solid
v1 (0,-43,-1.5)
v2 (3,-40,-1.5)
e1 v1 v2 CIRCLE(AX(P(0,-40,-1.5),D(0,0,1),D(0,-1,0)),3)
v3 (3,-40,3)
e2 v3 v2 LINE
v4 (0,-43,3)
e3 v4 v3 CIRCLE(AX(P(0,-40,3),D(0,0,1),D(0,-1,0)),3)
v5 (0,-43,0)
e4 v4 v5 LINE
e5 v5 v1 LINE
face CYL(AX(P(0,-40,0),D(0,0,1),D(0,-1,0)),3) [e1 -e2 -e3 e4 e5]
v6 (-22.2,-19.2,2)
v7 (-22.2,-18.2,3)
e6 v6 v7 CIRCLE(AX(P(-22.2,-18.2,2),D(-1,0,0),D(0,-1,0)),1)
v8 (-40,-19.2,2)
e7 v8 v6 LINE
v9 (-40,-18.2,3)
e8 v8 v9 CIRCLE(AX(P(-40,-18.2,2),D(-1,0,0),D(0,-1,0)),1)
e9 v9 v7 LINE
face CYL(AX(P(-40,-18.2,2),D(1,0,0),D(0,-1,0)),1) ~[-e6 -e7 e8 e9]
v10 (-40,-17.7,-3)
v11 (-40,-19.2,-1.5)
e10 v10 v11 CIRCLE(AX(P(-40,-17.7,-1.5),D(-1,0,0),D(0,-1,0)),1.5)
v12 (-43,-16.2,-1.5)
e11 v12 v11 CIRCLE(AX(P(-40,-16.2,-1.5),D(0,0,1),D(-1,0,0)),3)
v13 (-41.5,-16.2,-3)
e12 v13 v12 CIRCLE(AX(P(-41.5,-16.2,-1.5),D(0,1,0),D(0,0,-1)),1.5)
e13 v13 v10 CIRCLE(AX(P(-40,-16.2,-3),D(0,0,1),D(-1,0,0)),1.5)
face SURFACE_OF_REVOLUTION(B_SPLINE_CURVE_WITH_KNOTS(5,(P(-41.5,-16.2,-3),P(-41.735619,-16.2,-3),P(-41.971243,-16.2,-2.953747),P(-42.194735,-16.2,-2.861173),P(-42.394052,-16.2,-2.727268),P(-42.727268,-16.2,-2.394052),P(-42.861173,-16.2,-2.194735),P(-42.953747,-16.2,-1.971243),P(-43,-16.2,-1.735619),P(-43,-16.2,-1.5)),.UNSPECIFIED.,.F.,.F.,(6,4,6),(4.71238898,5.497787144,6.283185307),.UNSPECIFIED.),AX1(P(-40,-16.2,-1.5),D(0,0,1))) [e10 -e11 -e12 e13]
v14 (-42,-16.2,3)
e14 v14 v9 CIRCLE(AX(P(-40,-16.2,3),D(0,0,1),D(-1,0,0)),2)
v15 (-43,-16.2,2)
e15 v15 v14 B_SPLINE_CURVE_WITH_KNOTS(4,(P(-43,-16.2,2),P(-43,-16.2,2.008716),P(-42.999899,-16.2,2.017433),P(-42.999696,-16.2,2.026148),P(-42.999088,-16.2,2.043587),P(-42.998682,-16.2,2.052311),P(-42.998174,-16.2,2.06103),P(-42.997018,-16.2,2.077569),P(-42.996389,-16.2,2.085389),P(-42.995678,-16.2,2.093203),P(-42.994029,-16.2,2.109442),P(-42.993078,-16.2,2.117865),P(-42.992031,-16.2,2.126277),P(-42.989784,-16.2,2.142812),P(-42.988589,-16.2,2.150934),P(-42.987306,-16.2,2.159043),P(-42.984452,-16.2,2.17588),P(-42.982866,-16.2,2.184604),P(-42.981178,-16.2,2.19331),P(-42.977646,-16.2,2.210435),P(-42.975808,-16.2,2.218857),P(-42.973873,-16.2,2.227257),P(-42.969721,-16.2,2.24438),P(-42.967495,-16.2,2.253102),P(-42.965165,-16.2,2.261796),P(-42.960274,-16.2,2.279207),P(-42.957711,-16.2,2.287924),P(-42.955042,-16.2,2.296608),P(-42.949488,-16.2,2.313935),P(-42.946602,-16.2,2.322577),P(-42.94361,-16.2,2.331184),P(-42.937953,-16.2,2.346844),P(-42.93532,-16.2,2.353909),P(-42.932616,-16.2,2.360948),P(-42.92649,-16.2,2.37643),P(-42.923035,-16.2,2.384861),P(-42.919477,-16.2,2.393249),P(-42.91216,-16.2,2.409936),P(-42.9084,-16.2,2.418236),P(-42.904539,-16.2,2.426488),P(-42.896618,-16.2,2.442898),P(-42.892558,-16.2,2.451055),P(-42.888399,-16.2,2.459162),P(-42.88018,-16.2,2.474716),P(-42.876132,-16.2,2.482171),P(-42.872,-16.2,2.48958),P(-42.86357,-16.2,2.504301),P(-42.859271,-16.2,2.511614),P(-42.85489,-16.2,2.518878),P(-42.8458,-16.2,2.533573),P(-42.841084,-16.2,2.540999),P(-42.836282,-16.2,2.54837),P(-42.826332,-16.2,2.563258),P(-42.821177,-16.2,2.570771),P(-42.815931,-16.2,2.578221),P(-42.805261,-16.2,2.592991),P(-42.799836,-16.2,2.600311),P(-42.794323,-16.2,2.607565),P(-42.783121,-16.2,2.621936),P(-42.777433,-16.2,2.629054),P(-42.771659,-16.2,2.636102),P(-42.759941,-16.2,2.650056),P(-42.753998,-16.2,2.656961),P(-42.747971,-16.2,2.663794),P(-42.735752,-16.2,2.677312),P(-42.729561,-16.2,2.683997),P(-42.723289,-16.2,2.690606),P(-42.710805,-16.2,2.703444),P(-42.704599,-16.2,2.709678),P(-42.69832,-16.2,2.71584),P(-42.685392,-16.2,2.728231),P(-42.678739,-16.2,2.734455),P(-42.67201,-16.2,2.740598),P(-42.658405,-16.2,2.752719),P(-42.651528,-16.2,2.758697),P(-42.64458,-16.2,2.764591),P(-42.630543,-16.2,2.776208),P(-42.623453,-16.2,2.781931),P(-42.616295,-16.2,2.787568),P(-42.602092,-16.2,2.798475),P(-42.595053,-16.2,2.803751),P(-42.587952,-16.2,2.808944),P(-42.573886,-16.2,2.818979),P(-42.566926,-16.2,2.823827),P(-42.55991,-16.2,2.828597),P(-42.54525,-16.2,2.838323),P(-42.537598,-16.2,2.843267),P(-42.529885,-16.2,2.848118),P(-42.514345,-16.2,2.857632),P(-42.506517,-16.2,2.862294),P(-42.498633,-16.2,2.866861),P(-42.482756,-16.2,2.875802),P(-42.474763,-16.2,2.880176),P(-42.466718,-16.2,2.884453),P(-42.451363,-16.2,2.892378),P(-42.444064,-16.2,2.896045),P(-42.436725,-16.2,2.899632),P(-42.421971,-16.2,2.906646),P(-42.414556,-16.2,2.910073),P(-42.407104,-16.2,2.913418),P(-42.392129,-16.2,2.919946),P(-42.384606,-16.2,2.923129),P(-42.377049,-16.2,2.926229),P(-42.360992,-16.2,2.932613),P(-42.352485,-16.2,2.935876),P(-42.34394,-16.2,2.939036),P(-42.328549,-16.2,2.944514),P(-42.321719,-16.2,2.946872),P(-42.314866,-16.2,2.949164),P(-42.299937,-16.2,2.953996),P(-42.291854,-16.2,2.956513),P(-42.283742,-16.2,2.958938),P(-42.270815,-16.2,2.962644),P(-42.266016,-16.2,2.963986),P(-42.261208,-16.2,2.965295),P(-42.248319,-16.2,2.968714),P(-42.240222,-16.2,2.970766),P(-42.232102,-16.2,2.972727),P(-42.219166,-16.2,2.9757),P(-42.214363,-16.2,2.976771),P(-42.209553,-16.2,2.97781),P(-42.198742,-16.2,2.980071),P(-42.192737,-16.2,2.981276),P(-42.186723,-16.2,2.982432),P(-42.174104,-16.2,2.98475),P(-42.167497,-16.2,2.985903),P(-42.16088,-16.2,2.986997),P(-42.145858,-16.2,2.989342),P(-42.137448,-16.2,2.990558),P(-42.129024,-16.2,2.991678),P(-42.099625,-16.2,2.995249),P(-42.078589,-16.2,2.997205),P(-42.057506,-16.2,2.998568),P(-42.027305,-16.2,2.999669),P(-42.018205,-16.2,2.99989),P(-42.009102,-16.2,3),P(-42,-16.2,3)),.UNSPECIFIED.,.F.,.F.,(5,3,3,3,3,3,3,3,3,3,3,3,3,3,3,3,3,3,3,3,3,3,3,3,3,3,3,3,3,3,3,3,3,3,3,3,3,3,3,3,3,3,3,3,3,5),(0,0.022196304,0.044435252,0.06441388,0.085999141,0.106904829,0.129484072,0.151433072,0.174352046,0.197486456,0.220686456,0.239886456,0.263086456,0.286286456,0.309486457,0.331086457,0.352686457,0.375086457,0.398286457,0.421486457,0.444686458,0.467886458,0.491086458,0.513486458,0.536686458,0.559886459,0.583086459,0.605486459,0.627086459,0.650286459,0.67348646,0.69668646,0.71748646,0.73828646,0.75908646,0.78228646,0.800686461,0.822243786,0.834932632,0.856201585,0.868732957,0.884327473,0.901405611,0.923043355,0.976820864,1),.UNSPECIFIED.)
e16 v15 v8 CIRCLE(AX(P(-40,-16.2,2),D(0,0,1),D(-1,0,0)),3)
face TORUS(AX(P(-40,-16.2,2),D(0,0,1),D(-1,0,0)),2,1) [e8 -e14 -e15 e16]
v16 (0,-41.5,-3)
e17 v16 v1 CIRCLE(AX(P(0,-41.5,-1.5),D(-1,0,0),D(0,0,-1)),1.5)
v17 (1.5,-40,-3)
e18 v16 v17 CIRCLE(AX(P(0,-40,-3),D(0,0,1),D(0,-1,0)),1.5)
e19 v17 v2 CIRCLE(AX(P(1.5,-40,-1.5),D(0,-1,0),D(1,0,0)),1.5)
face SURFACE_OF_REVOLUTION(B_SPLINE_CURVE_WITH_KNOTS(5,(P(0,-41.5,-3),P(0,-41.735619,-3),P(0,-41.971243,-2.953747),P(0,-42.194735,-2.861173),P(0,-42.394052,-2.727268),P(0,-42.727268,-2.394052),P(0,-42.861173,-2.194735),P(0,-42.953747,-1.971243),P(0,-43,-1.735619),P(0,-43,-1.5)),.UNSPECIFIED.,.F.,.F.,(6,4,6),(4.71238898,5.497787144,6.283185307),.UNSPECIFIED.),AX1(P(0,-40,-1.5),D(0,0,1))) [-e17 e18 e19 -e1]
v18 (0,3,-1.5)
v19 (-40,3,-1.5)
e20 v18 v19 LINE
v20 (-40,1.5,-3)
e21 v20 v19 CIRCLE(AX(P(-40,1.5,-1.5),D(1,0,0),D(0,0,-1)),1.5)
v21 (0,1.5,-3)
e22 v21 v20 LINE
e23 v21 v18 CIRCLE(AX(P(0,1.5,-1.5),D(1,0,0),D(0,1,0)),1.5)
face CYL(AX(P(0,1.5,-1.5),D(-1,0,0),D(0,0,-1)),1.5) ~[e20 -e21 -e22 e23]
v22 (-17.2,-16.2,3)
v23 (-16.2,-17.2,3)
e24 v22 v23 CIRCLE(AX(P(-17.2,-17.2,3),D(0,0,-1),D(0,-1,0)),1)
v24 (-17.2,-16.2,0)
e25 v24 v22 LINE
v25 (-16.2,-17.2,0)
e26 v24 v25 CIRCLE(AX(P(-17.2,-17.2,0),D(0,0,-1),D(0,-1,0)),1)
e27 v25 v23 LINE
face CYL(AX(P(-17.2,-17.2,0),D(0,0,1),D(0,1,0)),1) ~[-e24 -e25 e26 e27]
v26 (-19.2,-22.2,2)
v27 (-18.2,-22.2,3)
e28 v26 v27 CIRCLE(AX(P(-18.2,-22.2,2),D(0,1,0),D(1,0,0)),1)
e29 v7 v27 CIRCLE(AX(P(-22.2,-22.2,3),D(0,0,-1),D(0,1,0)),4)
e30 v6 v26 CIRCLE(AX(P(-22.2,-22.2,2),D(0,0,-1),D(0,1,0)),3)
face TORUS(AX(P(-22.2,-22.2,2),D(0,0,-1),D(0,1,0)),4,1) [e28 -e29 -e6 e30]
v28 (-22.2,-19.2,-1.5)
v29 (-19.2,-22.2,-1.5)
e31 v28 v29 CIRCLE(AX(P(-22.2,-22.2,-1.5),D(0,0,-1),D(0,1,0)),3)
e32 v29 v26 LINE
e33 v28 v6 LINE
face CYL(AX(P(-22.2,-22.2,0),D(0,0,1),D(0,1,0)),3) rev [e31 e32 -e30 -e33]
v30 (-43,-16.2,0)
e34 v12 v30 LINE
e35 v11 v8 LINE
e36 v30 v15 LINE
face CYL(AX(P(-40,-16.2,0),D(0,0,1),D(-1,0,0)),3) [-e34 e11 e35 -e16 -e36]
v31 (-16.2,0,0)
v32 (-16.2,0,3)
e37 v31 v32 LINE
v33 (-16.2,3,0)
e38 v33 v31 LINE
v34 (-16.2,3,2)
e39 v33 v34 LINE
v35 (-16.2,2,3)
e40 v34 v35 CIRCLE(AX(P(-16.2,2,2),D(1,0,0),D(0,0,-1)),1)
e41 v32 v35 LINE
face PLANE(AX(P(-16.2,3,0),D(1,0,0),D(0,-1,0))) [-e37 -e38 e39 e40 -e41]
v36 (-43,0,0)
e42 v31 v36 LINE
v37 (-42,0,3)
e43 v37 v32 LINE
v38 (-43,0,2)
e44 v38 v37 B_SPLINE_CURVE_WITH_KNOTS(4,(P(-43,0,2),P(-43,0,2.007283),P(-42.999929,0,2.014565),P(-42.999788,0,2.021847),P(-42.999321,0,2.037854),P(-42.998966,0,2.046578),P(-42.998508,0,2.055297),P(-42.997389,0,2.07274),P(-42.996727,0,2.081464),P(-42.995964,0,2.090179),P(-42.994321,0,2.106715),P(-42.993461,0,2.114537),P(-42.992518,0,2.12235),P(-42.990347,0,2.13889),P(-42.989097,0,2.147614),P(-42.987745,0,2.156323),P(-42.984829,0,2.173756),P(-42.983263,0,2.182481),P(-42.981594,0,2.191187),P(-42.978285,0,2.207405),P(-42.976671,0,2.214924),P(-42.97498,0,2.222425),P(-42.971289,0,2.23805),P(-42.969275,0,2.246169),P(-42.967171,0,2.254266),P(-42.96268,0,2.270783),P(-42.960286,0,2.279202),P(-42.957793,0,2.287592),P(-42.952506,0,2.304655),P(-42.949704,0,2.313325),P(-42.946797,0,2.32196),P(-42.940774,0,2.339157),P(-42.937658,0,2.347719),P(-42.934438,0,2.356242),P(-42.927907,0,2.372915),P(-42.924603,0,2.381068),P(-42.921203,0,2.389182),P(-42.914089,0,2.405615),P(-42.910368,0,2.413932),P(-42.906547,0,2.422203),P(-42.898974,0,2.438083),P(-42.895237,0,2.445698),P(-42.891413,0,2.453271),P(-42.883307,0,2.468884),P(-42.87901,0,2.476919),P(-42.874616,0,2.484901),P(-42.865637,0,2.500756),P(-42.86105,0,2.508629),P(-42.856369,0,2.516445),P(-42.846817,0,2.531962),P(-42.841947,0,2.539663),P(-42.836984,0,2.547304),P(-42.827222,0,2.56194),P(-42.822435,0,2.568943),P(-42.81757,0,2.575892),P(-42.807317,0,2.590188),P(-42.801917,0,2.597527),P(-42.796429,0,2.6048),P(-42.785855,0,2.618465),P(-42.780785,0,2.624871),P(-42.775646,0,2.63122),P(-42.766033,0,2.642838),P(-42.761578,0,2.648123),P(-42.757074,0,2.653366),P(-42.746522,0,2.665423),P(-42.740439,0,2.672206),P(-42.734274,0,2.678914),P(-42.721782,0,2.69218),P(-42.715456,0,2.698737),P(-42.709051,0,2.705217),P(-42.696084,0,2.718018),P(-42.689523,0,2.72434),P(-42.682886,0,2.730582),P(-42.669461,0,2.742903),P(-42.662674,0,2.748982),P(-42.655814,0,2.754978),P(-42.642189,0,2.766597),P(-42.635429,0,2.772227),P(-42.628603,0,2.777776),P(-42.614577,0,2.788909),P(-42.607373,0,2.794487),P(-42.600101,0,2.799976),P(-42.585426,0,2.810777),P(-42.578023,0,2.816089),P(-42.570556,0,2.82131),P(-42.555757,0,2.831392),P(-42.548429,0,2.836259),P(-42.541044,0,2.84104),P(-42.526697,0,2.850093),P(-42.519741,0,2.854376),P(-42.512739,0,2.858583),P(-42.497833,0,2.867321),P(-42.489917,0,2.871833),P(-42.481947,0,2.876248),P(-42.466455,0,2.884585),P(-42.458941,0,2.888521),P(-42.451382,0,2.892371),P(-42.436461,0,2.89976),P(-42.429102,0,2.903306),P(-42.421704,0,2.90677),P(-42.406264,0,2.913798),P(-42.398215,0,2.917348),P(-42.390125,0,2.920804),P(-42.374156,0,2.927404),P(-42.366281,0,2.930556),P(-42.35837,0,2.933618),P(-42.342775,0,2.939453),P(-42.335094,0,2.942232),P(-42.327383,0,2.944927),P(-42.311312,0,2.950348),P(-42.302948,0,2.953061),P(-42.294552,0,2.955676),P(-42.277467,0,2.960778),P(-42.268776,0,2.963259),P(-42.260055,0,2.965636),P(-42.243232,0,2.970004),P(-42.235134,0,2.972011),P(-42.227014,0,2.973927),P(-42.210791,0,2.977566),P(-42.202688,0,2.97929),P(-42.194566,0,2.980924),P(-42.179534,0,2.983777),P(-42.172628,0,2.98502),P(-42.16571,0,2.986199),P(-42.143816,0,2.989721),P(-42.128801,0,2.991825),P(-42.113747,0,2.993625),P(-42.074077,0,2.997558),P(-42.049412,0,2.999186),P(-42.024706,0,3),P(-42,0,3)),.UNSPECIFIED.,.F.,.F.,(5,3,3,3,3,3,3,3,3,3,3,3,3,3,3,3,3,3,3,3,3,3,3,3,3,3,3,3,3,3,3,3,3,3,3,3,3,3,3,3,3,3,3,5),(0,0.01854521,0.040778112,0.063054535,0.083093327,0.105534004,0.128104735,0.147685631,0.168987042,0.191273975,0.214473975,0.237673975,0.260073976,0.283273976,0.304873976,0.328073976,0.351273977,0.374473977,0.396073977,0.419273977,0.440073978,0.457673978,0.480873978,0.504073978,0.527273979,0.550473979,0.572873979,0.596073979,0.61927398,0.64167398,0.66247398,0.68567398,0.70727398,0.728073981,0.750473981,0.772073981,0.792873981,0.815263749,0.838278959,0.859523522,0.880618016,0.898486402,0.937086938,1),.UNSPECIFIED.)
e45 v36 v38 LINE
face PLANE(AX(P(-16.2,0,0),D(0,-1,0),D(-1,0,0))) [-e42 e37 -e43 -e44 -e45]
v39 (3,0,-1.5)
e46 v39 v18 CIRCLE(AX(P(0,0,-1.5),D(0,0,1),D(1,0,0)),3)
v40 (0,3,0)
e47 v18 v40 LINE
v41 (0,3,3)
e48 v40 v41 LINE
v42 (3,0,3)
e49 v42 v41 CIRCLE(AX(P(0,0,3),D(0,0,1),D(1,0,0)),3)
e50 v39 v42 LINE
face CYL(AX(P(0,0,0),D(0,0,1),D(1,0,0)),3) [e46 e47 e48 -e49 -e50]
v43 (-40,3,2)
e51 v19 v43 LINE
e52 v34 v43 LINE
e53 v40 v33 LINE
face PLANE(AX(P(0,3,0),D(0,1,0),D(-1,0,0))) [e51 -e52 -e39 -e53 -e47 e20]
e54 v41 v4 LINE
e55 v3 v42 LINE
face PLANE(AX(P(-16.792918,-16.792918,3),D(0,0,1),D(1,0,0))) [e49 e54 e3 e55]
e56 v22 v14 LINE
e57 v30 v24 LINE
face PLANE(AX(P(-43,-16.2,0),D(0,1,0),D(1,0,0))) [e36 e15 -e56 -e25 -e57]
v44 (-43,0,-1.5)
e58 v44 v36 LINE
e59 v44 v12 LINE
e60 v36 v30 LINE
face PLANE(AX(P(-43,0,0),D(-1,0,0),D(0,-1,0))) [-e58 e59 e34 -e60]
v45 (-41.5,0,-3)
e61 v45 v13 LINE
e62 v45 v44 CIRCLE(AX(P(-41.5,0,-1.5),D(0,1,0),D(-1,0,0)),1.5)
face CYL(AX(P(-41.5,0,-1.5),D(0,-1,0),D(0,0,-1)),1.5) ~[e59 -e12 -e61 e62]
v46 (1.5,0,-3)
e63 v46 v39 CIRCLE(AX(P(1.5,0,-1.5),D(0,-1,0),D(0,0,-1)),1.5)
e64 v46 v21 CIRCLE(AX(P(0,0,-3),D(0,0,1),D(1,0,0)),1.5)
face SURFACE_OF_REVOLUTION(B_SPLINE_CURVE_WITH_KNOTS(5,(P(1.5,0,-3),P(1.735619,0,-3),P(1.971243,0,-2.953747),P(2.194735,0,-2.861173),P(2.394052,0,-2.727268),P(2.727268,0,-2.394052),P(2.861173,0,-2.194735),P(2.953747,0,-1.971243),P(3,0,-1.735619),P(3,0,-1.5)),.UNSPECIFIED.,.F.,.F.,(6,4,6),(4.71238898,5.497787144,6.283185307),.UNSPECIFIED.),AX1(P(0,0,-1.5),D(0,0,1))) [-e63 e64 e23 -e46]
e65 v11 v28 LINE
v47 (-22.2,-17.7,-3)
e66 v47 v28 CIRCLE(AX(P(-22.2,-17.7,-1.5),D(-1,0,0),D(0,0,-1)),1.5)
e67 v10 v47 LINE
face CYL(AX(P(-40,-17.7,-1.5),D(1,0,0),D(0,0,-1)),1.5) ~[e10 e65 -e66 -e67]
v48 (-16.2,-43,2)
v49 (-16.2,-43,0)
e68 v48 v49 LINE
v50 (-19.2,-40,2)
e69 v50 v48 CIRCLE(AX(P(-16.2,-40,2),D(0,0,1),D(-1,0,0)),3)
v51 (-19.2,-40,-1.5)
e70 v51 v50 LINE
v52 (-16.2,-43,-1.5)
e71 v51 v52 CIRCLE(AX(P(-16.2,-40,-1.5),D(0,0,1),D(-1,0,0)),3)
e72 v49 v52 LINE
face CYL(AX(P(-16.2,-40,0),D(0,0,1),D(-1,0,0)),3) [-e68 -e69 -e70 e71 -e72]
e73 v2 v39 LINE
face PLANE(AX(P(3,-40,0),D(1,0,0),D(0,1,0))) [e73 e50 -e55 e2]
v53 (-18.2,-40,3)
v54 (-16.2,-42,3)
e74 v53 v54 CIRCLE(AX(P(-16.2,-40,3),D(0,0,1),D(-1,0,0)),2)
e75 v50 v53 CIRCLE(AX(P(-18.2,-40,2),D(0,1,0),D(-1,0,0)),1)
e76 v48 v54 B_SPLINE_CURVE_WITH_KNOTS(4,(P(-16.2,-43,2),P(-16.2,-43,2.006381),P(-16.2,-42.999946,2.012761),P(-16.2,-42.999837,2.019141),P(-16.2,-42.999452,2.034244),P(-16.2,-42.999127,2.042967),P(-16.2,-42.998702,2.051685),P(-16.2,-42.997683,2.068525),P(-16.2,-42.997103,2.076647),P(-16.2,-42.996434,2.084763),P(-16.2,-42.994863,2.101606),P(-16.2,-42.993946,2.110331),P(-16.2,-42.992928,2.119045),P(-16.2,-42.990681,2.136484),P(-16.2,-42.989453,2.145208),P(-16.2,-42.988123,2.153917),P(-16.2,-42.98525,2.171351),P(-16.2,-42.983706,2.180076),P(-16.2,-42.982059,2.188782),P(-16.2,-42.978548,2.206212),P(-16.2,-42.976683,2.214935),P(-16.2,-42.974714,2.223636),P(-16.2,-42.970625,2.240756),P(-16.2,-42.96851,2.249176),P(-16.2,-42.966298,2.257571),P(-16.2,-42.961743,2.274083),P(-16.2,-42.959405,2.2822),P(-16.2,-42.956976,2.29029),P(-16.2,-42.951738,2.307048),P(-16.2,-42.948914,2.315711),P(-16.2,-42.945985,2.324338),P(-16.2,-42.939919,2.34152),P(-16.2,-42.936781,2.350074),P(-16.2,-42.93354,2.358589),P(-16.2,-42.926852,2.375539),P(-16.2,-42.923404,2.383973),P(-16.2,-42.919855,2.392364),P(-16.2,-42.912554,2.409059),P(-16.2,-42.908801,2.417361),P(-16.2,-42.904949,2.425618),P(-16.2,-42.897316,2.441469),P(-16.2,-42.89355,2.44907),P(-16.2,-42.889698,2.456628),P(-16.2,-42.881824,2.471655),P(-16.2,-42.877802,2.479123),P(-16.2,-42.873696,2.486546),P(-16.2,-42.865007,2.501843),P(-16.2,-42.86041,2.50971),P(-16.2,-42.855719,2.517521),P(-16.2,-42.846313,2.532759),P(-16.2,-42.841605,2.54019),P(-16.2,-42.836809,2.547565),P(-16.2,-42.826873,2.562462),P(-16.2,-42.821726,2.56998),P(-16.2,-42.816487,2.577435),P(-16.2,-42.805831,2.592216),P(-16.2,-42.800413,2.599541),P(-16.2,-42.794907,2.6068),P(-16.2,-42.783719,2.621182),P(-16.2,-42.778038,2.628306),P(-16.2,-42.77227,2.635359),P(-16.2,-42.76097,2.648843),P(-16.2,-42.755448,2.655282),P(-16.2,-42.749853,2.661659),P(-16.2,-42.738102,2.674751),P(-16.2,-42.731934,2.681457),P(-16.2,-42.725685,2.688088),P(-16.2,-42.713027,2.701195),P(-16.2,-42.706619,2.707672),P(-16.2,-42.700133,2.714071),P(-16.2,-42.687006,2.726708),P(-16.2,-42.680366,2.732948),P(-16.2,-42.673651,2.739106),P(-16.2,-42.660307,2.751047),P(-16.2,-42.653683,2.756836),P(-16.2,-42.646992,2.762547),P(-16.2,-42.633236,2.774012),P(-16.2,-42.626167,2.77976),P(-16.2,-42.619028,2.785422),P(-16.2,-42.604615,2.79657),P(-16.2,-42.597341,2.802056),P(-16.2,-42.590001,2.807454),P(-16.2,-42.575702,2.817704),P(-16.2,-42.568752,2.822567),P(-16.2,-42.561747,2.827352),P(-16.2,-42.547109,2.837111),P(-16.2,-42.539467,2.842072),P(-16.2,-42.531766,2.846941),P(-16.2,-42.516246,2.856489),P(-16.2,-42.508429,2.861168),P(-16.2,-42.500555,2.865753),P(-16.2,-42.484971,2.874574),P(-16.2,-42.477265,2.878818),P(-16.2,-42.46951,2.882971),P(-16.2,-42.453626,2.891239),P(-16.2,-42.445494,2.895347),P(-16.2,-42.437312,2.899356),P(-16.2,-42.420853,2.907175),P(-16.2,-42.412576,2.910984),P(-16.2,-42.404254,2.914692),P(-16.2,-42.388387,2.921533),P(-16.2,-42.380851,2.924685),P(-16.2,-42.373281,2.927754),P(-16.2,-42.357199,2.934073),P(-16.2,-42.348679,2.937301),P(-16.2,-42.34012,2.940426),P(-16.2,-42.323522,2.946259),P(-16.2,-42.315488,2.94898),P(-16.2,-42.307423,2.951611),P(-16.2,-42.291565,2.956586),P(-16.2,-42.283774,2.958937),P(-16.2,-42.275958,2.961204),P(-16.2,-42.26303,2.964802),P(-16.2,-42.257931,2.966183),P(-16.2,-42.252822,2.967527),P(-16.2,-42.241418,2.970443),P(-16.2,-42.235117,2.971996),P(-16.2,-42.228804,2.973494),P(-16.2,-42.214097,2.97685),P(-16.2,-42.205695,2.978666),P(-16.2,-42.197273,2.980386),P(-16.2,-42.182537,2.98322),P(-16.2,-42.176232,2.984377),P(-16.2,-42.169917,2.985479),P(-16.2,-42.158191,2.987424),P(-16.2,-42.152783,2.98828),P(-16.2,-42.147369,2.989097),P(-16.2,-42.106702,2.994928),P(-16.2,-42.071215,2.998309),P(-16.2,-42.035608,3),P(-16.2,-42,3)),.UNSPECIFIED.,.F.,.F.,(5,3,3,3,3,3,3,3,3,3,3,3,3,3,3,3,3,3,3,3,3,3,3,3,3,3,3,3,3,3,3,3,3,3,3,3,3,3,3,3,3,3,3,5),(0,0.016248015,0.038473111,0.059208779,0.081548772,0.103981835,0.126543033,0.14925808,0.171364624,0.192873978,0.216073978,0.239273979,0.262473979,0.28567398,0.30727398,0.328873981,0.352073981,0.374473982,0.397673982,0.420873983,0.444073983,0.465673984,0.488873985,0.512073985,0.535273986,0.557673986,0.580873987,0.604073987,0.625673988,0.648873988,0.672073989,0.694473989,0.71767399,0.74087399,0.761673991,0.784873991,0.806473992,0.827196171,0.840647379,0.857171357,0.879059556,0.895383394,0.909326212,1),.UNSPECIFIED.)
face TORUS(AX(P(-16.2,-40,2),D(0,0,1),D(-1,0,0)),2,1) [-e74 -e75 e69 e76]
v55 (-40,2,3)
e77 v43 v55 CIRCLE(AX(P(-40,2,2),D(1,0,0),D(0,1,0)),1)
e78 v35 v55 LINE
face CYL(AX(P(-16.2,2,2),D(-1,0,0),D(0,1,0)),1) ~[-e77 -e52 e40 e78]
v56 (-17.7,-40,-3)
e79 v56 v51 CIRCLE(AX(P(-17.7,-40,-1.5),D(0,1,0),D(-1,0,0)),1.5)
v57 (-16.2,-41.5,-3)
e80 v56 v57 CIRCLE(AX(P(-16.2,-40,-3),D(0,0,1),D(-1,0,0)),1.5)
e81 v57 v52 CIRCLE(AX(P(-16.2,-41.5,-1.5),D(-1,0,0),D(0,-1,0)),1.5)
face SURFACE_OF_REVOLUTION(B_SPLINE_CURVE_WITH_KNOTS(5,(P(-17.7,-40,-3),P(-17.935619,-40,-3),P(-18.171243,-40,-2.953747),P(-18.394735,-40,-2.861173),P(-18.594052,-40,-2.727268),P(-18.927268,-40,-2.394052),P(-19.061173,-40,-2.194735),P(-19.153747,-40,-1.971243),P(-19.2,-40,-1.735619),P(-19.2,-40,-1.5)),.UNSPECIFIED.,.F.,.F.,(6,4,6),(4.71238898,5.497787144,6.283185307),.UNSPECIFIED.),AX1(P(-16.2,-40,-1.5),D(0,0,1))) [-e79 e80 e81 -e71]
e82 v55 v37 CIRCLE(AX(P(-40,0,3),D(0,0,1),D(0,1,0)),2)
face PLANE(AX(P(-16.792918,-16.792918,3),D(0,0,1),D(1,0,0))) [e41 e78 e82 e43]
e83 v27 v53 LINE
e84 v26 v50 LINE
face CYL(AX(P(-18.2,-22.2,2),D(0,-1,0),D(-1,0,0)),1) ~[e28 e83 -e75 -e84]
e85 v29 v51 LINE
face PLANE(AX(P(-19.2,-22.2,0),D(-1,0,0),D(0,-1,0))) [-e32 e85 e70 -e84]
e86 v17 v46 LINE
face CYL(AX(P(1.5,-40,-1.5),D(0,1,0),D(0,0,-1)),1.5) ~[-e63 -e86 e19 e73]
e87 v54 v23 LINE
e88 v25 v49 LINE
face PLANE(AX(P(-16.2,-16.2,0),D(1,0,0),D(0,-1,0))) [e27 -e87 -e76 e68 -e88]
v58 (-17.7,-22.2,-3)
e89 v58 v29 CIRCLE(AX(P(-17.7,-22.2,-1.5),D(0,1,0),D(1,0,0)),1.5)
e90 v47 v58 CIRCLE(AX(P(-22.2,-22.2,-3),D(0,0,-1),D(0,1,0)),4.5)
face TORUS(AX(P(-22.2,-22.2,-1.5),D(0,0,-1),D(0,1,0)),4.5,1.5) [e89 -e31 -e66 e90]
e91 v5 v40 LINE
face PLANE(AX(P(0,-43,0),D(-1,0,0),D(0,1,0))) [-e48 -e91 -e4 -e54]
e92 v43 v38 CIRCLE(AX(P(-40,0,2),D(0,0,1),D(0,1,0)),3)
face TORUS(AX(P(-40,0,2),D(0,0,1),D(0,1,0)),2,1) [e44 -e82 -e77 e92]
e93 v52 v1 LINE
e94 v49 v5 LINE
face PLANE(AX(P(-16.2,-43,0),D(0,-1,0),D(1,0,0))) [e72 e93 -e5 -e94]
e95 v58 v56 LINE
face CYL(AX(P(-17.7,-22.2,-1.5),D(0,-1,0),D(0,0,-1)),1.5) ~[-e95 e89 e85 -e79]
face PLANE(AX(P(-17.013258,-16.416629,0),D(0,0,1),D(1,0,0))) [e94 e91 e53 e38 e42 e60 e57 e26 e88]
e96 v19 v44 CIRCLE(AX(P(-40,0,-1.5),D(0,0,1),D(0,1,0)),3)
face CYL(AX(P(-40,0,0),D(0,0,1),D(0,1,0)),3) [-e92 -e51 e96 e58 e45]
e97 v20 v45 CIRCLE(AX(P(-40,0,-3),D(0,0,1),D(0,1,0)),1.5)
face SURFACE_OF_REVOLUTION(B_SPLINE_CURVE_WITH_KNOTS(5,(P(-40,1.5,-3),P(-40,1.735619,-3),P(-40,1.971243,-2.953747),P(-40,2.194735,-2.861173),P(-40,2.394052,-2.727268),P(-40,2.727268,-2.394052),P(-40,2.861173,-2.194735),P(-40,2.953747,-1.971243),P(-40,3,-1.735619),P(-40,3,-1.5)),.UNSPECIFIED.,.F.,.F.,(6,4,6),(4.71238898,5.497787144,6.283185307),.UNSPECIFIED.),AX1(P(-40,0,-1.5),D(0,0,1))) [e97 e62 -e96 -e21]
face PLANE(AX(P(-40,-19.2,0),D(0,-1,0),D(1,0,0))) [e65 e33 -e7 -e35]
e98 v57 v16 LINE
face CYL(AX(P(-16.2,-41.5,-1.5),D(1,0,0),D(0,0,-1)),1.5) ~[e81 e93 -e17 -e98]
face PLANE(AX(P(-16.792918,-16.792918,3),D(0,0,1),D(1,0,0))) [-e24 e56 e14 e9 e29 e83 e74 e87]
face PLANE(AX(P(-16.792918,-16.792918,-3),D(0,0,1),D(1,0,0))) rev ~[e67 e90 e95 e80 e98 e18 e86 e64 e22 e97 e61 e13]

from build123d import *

# Parameters (mm, degrees)
F1_DEPTH = 3
F3_DEPTH = 4
F4_R     = 1.5
F5_R     = 1


with BuildPart() as f1:
    # F0 (on Top) → F1 (new body, symmetric)
    with BuildSketch(Plane.XY):
        with BuildLine():
            Line((3, -40), (3, 0))
            ThreePointArc((3, 0), (2.1213203436, 2.1213203436), (0, 3))
            Line((0, 3), (-40, 3))
            ThreePointArc((-40, 3), (-42.1213203436, 2.1213203436), (-43, 0))
            Line((-43, 0), (-43, -16.2))
            ThreePointArc((-43, -16.2), (-42.1213203436, -18.3213203436), (-40, -19.2))
            Line((-40, -19.2), (-22.2, -19.2))
            ThreePointArc((-22.2, -19.2), (-20.0786796564, -20.0786796564), (-19.2, -22.2))
            Line((-19.2, -22.2), (-19.2, -40))
            ThreePointArc((-19.2, -40), (-18.3213203436, -42.1213203436), (-16.2, -43))
            Line((-16.2, -43), (0, -43))
            ThreePointArc((0, -43), (2.1213203436, -42.1213203436), (3, -40))
        make_face()
    extrude(amount=F1_DEPTH, both=True)

    # F2 (on Top) → F3 (cut)
    with BuildSketch(Plane.XY):
        Polygon((-16.2, 3), (-16.2, 0), (-43, 0), (-43, -16.2), (-16.2, -16.2), (-16.2, -43), (0, -43), (0, -16.2), (0, 0), (0, 3), align=None)
    extrude(amount=F3_DEPTH, mode=Mode.SUBTRACT)

    # F4
    f4_edges = [f1.edges().sort_by_distance(p)[0] for p in [
        (-18.32132, -42.12132, -3),
        (-8.1, -43, -3),
        (2.12132, -42.12132, -3),
        (3, -20, -3),
        (2.12132, 2.12132, -3),
        (-20, 3, -3),
        (-42.12132, 2.12132, -3),
        (-43, -8.1, -3),
        (-42.12132, -18.32132, -3),
        (-31.1, -19.2, -3),
        (-20.07868, -20.07868, -3),
        (-19.2, -31.1, -3),
    ]]
    fillet(f4_edges, radius=F4_R)

    # F5
    f5_edges = [f1.edges().sort_by_distance(p)[0] for p in [
        (-28.1, 3, 3),
        (-19.2, -31.1, 3),
        (-16.2, -16.2, 1.5),
    ]]
    fillet(f5_edges, radius=F5_R)


solid = f1.part
